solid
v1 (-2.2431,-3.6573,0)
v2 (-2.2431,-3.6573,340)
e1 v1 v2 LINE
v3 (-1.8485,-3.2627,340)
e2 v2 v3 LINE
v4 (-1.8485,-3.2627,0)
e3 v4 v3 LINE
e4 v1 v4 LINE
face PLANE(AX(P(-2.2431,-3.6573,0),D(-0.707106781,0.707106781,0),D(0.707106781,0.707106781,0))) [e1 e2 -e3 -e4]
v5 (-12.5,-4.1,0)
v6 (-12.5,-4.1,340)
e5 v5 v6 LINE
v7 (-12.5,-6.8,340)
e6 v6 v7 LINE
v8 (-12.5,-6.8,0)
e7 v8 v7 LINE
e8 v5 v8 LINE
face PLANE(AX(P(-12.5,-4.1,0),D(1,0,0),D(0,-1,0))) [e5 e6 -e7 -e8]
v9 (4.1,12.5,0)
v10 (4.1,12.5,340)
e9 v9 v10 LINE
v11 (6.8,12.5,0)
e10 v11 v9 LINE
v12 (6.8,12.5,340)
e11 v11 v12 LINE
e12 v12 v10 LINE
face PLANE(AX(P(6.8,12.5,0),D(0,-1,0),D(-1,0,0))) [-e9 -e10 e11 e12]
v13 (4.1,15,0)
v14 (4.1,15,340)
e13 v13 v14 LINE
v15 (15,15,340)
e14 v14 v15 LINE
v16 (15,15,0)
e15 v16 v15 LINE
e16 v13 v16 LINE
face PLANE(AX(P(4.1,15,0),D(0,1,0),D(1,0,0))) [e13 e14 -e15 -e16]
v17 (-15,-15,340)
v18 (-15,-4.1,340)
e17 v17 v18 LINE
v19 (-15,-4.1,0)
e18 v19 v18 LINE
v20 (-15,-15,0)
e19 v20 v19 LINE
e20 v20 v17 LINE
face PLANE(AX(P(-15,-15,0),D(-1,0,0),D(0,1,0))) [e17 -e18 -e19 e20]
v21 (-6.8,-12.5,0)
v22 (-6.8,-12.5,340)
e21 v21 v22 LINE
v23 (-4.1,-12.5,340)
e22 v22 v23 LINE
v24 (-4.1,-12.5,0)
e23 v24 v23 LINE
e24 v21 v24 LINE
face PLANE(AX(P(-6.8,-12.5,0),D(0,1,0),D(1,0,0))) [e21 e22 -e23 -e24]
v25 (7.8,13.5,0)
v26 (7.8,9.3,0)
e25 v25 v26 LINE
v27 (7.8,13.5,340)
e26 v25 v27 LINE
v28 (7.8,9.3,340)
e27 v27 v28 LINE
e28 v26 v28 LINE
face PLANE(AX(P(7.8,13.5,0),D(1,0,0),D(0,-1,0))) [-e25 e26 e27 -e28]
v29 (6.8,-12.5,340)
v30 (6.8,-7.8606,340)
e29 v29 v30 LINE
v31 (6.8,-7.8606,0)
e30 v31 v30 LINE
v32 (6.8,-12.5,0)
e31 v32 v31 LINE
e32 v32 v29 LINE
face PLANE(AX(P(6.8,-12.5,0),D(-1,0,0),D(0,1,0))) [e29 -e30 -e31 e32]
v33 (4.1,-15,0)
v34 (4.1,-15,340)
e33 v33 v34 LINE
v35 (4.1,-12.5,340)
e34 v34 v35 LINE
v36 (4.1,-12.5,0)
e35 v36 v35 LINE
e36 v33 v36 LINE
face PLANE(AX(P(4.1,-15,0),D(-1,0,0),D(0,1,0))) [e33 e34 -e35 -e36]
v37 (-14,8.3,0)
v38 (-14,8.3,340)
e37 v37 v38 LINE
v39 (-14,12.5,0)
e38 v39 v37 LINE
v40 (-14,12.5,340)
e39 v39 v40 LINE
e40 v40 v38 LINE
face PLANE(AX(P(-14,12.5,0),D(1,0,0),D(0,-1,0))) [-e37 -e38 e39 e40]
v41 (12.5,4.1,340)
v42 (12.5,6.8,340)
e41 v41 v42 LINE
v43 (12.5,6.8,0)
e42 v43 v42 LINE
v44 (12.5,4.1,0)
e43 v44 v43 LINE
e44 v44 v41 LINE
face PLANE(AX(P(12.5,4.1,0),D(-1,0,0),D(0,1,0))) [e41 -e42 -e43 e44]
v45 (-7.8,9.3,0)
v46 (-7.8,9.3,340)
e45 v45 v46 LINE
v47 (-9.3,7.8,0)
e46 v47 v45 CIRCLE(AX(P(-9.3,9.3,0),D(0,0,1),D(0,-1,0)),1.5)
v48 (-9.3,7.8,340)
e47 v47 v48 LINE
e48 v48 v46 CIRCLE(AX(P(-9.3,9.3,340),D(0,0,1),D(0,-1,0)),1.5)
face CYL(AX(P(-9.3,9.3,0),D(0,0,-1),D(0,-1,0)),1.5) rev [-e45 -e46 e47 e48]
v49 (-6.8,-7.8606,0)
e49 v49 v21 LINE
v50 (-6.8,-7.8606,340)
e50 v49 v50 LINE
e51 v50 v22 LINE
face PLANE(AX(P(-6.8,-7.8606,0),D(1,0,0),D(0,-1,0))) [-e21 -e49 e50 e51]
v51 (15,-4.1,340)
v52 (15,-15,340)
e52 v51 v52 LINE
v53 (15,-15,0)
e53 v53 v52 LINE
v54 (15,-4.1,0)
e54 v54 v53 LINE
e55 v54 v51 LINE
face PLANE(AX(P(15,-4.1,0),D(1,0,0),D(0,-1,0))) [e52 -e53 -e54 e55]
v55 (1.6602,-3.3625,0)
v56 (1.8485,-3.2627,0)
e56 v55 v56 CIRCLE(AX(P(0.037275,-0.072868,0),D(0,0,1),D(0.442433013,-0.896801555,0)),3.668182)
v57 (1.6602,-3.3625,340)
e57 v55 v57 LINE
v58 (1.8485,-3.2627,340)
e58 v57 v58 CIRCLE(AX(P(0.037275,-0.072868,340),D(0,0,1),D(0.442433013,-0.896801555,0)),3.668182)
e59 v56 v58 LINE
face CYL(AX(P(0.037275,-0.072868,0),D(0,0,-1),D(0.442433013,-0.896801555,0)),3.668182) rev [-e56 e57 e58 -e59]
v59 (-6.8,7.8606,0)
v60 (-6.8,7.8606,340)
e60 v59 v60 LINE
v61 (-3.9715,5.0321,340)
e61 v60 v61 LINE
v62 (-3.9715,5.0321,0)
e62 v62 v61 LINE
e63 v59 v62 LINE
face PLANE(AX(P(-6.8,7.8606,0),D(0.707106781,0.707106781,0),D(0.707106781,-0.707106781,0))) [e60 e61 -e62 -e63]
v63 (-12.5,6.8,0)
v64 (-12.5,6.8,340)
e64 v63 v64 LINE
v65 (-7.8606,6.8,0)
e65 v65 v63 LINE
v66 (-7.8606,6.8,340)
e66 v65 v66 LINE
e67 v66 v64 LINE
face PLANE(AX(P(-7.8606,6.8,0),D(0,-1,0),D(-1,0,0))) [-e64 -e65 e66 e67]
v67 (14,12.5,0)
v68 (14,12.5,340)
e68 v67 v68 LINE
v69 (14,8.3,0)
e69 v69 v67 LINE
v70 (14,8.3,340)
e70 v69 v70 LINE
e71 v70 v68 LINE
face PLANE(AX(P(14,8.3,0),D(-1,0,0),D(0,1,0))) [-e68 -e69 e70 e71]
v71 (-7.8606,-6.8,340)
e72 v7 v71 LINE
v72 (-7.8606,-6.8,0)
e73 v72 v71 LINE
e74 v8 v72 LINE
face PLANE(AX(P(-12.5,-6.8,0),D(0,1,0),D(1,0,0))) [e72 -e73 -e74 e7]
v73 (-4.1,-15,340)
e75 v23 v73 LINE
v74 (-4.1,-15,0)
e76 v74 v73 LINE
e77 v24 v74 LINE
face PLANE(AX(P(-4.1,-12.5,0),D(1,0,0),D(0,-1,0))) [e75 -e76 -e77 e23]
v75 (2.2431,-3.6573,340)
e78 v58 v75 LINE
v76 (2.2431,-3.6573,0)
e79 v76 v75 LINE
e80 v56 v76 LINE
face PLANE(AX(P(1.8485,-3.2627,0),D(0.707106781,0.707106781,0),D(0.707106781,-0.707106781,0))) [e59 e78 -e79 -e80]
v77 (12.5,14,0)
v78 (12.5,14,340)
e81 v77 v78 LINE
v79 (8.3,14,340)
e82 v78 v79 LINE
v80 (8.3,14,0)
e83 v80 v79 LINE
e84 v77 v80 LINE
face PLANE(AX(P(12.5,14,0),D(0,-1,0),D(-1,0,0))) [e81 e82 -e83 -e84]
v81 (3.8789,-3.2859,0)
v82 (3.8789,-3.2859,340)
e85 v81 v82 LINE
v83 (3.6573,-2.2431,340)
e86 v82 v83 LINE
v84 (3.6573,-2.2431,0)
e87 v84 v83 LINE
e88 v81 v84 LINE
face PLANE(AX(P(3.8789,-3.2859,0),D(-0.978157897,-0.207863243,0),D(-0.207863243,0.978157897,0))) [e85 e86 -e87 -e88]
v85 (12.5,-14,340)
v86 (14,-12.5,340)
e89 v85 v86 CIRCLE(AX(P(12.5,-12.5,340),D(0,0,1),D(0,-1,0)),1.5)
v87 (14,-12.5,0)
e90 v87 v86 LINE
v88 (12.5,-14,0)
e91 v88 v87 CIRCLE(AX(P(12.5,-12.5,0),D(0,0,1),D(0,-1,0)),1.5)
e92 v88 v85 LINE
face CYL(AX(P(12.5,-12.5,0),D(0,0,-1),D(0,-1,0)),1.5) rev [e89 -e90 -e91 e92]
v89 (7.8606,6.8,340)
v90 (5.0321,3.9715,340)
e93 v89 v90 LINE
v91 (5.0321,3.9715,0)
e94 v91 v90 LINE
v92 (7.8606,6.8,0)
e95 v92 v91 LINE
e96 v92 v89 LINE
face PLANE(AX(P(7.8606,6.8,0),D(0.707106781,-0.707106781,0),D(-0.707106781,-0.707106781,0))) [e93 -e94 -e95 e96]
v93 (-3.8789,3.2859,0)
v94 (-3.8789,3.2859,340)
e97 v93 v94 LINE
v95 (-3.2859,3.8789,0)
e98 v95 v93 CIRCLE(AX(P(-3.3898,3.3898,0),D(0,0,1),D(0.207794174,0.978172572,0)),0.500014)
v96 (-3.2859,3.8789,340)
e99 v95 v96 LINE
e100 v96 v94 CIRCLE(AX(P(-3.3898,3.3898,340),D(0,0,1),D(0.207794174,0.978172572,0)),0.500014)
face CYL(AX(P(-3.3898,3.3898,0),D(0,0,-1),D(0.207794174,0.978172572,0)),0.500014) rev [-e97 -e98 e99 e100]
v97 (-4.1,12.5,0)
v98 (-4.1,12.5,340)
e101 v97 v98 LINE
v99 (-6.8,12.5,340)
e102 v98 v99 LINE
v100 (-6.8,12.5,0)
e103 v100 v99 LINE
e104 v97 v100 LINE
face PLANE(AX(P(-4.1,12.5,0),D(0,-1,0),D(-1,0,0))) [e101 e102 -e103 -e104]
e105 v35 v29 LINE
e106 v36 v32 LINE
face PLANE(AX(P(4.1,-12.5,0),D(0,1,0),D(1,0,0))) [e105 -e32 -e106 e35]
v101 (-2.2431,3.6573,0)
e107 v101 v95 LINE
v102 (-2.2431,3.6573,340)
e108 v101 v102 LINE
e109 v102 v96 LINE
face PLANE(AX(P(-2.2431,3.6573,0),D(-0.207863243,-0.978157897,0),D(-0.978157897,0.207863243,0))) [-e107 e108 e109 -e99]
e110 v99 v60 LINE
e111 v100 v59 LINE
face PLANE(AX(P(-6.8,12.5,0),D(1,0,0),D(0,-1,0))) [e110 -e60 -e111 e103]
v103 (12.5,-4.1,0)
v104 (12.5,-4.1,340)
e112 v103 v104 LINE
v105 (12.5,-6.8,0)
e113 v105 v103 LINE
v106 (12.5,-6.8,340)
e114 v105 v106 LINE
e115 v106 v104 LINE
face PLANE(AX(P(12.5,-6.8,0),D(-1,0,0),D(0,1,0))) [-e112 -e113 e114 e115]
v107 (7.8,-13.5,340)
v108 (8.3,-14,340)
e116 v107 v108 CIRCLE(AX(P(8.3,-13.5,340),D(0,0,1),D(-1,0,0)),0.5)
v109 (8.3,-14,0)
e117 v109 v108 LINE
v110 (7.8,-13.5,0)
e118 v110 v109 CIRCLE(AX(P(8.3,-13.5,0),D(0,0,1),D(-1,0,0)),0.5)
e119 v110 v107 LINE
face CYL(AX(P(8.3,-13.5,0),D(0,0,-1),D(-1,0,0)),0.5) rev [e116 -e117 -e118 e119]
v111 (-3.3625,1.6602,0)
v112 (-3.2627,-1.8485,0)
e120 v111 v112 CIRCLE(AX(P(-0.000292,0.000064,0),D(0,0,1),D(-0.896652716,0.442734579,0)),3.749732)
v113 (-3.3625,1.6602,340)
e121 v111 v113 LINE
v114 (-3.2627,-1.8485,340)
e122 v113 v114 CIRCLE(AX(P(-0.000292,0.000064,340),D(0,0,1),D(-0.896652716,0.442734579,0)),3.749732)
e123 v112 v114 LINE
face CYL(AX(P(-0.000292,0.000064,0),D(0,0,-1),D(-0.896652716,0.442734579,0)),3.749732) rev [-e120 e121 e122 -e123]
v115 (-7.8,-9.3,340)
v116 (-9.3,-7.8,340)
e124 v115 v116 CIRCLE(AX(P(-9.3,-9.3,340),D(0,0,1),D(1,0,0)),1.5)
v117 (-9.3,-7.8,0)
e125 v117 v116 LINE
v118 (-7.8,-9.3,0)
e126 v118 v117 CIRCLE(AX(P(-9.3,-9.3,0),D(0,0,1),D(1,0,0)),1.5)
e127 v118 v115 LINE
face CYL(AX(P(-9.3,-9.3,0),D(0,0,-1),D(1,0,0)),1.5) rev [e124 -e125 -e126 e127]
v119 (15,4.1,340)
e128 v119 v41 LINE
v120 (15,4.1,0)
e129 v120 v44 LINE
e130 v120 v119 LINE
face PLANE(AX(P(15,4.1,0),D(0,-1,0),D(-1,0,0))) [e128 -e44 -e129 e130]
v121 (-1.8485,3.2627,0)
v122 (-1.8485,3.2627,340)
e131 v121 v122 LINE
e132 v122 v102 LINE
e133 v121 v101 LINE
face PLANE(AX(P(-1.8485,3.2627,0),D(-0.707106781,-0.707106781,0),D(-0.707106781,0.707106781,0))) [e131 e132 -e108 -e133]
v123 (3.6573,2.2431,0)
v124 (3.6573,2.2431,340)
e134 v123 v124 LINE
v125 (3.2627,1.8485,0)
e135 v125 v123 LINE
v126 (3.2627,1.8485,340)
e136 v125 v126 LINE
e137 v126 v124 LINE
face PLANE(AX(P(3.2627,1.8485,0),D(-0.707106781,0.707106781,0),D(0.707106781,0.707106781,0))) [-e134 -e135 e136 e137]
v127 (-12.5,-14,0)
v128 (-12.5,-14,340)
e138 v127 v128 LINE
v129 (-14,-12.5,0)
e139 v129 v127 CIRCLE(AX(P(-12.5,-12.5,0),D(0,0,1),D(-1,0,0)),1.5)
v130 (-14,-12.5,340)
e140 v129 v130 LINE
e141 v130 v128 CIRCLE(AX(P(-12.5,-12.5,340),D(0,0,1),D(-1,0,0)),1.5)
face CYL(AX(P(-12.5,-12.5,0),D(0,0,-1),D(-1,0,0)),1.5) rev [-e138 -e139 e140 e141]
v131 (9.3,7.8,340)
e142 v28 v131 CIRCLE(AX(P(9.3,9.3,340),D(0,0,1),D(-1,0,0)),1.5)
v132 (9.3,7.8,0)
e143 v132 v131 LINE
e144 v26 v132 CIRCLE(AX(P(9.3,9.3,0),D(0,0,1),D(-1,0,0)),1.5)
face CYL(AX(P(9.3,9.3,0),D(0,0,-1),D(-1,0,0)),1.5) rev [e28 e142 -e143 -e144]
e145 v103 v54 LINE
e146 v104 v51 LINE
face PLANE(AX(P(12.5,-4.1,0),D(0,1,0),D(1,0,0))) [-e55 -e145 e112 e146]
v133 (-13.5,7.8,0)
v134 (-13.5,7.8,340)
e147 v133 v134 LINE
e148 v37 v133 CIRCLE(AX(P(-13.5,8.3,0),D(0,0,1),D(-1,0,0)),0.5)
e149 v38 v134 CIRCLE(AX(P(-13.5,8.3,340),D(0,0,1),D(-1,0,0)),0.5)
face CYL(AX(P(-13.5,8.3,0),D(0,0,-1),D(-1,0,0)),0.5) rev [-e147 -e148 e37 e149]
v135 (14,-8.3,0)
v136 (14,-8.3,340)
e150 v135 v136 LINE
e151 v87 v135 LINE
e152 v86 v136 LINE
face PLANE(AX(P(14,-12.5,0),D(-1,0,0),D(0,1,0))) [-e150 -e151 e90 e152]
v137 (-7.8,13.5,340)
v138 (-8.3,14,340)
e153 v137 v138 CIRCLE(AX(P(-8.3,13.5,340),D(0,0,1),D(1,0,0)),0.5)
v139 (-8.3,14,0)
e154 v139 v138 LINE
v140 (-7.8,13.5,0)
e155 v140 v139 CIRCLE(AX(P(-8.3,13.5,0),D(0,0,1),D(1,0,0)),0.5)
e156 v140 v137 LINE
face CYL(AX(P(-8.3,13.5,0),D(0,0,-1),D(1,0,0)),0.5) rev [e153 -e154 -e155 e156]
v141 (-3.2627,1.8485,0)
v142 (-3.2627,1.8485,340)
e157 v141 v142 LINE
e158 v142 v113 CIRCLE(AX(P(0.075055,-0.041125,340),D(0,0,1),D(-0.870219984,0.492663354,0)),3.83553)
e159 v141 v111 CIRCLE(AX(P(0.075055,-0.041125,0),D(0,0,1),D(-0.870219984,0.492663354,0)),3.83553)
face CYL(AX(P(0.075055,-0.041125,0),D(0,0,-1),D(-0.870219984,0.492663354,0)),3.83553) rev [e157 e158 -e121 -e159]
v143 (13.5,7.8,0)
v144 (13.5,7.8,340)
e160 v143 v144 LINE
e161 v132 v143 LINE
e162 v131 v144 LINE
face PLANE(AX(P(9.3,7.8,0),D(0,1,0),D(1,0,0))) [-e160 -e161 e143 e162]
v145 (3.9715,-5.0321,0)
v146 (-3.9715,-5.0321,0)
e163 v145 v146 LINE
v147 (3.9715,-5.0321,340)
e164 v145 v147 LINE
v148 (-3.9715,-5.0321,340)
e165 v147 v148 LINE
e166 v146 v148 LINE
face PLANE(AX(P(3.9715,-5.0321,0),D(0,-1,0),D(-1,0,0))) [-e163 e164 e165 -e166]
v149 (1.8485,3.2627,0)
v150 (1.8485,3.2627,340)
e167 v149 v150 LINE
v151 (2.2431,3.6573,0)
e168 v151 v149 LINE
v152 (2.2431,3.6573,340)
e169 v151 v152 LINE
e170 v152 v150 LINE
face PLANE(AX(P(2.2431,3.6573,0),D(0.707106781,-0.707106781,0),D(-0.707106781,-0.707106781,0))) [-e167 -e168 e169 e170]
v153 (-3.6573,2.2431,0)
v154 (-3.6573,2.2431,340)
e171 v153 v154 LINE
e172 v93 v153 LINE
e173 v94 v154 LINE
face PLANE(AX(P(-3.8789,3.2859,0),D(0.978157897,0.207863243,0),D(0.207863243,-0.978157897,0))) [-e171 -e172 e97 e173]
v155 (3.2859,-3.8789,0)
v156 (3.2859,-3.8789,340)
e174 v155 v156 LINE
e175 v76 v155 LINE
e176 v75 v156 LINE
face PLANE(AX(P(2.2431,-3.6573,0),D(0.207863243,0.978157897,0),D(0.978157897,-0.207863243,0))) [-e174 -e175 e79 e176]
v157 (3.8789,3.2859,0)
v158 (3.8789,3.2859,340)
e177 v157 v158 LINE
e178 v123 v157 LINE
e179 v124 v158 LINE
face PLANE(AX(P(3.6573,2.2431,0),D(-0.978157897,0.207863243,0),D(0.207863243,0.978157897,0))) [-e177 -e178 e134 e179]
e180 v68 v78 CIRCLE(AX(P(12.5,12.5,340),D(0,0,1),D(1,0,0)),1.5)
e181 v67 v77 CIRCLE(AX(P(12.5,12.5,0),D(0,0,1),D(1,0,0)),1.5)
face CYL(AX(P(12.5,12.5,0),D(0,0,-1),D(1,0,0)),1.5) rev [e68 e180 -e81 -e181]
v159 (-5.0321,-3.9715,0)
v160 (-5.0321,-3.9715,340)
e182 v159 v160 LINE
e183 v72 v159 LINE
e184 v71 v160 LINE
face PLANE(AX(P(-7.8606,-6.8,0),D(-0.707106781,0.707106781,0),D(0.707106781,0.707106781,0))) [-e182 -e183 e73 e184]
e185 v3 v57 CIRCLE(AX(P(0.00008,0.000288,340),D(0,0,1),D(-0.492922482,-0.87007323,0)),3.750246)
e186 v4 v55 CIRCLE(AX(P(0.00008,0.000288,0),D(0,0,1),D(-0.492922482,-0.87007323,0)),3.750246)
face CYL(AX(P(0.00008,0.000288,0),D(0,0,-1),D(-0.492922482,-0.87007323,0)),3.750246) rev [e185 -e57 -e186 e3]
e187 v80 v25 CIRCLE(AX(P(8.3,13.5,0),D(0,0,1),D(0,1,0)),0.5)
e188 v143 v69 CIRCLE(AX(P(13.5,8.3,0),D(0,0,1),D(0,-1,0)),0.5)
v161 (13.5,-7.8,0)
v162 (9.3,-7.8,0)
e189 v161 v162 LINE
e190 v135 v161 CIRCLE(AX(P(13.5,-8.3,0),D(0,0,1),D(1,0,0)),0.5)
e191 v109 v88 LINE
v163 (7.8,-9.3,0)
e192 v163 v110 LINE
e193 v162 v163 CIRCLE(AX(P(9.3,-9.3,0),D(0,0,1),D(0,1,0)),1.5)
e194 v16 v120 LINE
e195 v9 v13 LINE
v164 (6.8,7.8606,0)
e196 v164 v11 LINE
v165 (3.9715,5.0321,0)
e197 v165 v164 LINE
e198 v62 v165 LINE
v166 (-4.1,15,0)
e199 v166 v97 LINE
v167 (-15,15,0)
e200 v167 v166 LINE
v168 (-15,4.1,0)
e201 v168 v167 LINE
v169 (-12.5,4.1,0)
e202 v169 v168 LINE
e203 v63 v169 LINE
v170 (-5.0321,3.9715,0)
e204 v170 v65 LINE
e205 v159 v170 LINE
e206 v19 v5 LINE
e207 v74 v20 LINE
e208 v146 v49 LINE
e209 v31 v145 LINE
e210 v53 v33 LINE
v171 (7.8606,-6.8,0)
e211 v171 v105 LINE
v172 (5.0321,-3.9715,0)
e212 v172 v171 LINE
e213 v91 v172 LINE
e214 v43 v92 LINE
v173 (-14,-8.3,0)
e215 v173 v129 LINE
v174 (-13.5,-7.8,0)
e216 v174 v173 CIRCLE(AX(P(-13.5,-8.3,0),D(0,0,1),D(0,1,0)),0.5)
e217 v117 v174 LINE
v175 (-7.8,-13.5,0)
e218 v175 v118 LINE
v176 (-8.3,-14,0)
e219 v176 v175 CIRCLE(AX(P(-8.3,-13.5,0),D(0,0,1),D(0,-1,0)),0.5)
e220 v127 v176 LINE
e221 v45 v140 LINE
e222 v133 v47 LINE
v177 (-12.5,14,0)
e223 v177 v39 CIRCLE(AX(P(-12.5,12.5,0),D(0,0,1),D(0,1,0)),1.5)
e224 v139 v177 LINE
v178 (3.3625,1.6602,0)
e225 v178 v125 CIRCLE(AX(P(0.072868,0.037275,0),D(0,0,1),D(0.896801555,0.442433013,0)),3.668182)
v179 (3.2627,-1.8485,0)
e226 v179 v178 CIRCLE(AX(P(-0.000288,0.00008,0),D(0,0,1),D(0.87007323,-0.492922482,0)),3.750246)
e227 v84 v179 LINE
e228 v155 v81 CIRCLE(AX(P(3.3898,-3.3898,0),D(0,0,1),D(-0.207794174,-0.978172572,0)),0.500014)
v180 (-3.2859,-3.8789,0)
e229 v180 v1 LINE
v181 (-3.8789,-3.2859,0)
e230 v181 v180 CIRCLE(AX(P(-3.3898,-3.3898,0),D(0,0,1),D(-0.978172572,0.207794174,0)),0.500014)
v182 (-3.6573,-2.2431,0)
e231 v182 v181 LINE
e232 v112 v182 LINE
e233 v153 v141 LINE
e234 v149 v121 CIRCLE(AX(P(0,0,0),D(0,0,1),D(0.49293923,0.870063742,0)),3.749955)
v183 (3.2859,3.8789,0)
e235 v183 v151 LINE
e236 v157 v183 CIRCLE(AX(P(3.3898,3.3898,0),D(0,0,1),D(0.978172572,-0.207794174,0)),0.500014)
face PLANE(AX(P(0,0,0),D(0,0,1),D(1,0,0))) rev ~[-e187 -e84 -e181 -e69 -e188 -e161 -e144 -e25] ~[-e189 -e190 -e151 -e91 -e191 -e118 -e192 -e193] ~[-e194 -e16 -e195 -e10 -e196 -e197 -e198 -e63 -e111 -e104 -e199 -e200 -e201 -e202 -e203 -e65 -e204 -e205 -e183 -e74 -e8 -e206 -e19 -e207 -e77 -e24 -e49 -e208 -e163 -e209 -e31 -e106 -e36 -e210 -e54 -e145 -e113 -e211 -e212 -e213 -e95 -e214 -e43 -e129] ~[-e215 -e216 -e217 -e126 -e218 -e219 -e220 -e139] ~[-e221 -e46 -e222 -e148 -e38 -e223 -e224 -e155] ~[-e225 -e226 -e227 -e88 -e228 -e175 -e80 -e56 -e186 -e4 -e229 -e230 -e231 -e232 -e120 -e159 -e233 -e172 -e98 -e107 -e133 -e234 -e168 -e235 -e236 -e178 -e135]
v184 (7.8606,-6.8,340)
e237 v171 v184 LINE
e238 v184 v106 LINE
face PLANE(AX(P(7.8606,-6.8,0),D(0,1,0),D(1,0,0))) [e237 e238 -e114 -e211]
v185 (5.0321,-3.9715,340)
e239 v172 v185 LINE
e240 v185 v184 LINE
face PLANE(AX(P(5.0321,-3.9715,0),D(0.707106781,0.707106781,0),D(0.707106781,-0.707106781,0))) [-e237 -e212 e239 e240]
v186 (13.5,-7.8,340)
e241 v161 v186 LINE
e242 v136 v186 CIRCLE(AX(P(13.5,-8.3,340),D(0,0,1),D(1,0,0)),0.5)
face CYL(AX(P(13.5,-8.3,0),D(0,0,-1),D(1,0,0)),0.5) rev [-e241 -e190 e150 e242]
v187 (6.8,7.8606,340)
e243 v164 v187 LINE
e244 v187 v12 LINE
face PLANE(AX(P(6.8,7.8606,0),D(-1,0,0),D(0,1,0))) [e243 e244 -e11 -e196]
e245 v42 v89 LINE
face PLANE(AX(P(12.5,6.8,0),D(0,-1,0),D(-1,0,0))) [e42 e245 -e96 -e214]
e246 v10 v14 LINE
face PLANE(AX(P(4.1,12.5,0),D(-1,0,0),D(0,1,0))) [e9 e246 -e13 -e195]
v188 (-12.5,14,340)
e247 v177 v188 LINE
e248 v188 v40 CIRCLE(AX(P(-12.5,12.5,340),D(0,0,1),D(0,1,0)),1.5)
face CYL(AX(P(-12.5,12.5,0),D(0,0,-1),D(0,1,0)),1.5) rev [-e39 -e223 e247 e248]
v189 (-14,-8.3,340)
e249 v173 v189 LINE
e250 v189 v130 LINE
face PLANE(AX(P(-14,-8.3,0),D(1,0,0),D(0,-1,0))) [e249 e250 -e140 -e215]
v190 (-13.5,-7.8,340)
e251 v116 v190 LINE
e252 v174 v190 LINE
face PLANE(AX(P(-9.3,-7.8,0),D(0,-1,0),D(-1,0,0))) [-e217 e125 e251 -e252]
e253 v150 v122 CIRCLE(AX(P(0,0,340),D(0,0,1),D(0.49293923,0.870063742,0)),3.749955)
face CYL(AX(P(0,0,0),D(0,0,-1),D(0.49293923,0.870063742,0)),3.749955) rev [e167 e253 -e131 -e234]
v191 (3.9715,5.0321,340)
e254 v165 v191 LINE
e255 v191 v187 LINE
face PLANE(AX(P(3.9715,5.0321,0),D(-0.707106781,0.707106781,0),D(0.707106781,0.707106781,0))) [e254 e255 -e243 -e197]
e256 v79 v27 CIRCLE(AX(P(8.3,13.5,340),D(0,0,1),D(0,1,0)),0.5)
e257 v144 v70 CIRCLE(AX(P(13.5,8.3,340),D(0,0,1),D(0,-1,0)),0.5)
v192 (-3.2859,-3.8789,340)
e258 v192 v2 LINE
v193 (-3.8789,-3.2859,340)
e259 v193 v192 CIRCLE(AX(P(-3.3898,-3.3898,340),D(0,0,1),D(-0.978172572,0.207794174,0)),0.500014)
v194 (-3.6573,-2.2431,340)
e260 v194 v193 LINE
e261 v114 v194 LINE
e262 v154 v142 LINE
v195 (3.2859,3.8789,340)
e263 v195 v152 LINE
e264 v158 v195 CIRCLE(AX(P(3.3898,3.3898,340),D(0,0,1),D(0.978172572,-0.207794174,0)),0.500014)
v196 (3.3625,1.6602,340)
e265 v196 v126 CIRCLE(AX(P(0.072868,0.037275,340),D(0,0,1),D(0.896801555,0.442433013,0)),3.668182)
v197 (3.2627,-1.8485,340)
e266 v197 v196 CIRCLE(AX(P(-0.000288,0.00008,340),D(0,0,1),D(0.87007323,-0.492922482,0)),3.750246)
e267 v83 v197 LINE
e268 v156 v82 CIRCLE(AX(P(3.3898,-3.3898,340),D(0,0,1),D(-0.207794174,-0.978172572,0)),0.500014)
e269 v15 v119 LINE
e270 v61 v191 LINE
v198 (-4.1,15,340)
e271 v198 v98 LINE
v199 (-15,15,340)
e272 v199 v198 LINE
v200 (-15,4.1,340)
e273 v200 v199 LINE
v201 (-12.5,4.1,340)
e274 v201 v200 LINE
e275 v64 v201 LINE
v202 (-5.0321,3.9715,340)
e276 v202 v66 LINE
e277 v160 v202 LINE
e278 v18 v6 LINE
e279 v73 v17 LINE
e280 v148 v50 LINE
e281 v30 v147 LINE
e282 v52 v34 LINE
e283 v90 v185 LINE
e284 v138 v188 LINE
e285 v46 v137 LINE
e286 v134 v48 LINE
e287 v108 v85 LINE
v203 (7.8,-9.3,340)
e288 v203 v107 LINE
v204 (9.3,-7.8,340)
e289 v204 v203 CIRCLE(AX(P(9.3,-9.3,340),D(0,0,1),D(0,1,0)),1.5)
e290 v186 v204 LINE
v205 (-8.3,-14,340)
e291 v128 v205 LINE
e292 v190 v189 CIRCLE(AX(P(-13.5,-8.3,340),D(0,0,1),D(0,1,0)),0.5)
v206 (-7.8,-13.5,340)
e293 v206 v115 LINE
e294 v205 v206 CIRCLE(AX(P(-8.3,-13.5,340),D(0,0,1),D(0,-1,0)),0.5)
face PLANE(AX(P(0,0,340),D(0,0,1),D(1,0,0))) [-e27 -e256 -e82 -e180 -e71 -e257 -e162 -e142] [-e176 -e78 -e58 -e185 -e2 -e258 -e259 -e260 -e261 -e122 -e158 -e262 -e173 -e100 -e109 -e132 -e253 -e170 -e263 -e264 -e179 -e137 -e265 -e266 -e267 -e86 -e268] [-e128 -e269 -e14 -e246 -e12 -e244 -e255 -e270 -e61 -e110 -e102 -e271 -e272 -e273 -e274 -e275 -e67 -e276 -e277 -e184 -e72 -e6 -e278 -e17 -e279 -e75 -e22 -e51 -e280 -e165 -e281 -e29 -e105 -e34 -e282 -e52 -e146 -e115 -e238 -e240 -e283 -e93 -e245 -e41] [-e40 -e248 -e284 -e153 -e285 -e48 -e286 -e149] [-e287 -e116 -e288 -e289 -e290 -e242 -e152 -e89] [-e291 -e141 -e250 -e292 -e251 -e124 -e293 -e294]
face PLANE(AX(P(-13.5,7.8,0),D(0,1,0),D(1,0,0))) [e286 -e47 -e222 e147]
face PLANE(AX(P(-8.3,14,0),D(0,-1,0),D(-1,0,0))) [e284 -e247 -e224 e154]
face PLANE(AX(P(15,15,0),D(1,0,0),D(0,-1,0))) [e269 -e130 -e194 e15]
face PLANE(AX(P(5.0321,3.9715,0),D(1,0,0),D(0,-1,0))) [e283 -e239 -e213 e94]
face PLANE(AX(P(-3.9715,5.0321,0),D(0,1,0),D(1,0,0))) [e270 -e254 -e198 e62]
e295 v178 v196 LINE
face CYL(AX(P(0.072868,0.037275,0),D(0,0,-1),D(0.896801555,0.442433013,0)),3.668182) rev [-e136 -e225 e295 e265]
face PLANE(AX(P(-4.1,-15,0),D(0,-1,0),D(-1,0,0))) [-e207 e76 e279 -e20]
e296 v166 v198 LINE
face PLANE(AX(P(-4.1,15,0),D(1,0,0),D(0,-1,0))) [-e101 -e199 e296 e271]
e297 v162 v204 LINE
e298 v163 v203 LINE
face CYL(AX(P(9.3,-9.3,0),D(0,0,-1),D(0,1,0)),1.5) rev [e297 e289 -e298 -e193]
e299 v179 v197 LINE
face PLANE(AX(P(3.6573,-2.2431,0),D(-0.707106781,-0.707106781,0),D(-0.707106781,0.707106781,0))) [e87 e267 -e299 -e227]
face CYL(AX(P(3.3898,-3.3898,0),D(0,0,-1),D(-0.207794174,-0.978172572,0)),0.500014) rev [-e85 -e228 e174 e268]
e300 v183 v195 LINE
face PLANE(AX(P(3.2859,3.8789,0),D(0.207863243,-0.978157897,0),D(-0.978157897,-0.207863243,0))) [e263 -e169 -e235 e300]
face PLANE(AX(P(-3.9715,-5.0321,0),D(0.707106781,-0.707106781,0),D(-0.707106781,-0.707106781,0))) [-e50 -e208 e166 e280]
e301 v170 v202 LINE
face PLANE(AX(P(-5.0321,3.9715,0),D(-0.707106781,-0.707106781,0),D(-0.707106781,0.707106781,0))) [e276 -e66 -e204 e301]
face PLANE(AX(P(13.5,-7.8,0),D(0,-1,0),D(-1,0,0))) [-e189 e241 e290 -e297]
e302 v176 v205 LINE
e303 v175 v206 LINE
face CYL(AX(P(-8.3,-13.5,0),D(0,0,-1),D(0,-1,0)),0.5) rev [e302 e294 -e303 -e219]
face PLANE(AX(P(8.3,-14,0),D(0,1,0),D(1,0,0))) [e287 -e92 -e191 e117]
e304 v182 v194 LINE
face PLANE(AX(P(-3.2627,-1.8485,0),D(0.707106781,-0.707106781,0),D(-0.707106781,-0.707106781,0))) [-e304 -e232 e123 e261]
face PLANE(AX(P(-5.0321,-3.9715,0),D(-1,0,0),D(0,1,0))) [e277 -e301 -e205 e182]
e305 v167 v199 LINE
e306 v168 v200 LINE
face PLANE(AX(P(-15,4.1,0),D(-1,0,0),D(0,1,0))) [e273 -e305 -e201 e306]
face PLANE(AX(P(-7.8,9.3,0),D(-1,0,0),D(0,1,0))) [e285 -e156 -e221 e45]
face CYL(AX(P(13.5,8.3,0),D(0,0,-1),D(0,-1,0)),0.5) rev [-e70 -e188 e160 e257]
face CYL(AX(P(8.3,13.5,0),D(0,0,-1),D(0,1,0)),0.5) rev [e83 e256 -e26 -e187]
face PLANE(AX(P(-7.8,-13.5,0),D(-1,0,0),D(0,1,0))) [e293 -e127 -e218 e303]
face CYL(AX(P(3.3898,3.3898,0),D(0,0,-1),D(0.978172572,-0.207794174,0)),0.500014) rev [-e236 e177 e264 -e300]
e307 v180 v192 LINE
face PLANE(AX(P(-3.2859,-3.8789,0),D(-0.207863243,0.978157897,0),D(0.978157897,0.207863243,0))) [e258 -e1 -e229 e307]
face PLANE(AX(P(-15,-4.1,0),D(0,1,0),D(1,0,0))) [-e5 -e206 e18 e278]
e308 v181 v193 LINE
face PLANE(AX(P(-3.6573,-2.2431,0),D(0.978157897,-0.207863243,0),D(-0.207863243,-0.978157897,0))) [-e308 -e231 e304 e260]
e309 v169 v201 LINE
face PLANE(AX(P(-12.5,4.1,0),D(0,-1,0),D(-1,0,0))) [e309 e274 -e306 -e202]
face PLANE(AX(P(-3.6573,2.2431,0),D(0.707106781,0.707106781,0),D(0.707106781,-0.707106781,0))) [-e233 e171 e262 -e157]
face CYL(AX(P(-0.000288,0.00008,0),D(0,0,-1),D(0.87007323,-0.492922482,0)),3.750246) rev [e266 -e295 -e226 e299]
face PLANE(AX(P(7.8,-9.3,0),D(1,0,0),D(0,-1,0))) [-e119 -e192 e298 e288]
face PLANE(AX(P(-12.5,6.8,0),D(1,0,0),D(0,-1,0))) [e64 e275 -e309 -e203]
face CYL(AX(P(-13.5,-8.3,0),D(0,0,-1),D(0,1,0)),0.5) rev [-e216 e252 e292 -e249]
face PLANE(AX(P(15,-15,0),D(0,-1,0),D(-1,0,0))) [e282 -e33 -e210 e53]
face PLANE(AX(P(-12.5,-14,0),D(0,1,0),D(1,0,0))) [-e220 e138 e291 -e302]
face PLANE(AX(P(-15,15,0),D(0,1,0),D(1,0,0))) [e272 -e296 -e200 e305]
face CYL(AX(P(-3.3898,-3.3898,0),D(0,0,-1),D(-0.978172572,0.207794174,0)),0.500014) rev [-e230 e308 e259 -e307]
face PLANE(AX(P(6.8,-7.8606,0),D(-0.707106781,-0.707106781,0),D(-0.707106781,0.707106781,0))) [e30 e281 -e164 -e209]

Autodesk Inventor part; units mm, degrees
ref_plane "YZ Plane" through (0, 0, 0) normal (1, 0, 0) x (0, 1, 0)
ref_plane "XZ Plane" through (0, 0, 0) normal (0, 1, 0) x (-1, 0, 0)
ref_plane "XY Plane" through (0, 0, 0) normal (0, 0, 1) x (1, 0, 0)
sketch "Sketch1" plane through (0, 0, 0) normal (0, 0, 1) x (1, 0, 0)
  arc A0 (9.3, -7.8) -> (7.8, -9.3) centre (9.3, -9.3) ccw
  line L0 (13.5, -7.8) -> (9.3, -7.8)
  arc A1 (14, -8.3) -> (13.5, -7.8) centre (13.5, -8.3) ccw
  line L1 (14, -12.5) -> (14, -8.3)
  arc A2 (12.5, -14) -> (14, -12.5) centre (12.5, -12.5) ccw
  line L2 (8.3, -14) -> (12.5, -14)
  arc A3 (7.8, -13.5) -> (8.3, -14) centre (8.3, -13.5) ccw
  line L3 (7.8, -9.3) -> (7.8, -13.5)
  arc A4 (-13.5, -7.8) -> (-14, -8.3) centre (-13.5, -8.3) ccw
  line L4 (-9.3, -7.8) -> (-13.5, -7.8)
  arc A5 (-7.8, -9.3) -> (-9.3, -7.8) centre (-9.3, -9.3) ccw
  line L5 (-7.8, -13.5) -> (-7.8, -9.3)
  arc A6 (-8.3, -14) -> (-7.8, -13.5) centre (-8.3, -13.5) ccw
  line L6 (-12.5, -14) -> (-8.3, -14)
  arc A7 (-14, -12.5) -> (-12.5, -14) centre (-12.5, -12.5) ccw
  line L7 (-14, -8.3) -> (-14, -12.5)
  line L8 (3.2859, 3.8789) -> (2.2431, 3.6573)
  arc A8 (3.8789, 3.2859) -> (3.2859, 3.8789) centre (3.3898, 3.3898) ccw
  line L9 (3.6573, 2.2431) -> (3.8789, 3.2859)
  line L10 (3.2627, 1.8485) -> (3.6573, 2.2431)
  line L11 (3.6573, -2.2431) -> (3.2627, -1.8485)
  line L12 (3.8789, -3.2859) -> (3.6573, -2.2431)
  arc A9 (3.2859, -3.8789) -> (3.8789, -3.2859) centre (3.3898, -3.3898) ccw
  line L13 (2.2431, -3.6573) -> (3.2859, -3.8789)
  line L14 (1.8485, -3.2627) -> (2.2431, -3.6573)
  arc A10 (-1.8485, -3.2627) -> (1.6602, -3.3625) centre (0, 0) ccw
  line L15 (-2.2431, -3.6573) -> (-1.8485, -3.2627)
  line L16 (-3.2859, -3.8789) -> (-2.2431, -3.6573)
  arc A11 (-3.8789, -3.2859) -> (-3.2859, -3.8789) centre (-3.3898, -3.3898) ccw
  line L17 (-3.6573, -2.2431) -> (-3.8789, -3.2859)
  line L18 (-3.2627, -1.8485) -> (-3.6573, -2.2431)
  arc A12 (-3.3625, 1.6602) -> (-3.2627, -1.8485) centre (0, 0) ccw
  line L19 (-3.6573, 2.2431) -> (-3.2627, 1.8485)
  line L20 (-3.8789, 3.2859) -> (-3.6573, 2.2431)
  arc A13 (-3.2859, 3.8789) -> (-3.8789, 3.2859) centre (-3.3898, 3.3898) ccw
  line L21 (-2.2431, 3.6573) -> (-3.2859, 3.8789)
  line L22 (-1.8485, 3.2627) -> (-2.2431, 3.6573)
  line L23 (2.2431, 3.6573) -> (1.8485, 3.2627)
  arc A14 (13.5, 7.8) -> (14, 8.3) centre (13.5, 8.3) ccw
  line L24 (9.3, 7.8) -> (13.5, 7.8)
  arc A15 (7.8, 9.3) -> (9.3, 7.8) centre (9.3, 9.3) ccw
  line L25 (7.8, 13.5) -> (7.8, 9.3)
  arc A16 (8.3, 14) -> (7.8, 13.5) centre (8.3, 13.5) ccw
  line L26 (12.5, 14) -> (8.3, 14)
  arc A17 (14, 12.5) -> (12.5, 14) centre (12.5, 12.5) ccw
  line L27 (14, 8.3) -> (14, 12.5)
  arc A18 (-12.5, 14) -> (-14, 12.5) centre (-12.5, 12.5) ccw
  line L28 (-8.3, 14) -> (-12.5, 14)
  arc A19 (-7.8, 13.5) -> (-8.3, 14) centre (-8.3, 13.5) ccw
  line L29 (-7.8, 9.3) -> (-7.8, 13.5)
  arc A20 (-9.3, 7.8) -> (-7.8, 9.3) centre (-9.3, 9.3) ccw
  line L30 (-13.5, 7.8) -> (-9.3, 7.8)
  arc A21 (-14, 8.3) -> (-13.5, 7.8) centre (-13.5, 8.3) ccw
  line L31 (-14, 12.5) -> (-14, 8.3)
  line L32 (12.5, 4.1) -> (12.5, 6.8)
  line L33 (15, 4.1) -> (12.5, 4.1)
  line L34 (15, 15) -> (15, 4.1)
  line L35 (4.1, 15) -> (15, 15)
  line L36 (4.1, 12.5) -> (4.1, 15)
  line L37 (6.8, 12.5) -> (4.1, 12.5)
  line L38 (6.8, 7.8606) -> (6.8, 12.5)
  line L39 (3.9715, 5.0321) -> (6.8, 7.8606)
  line L40 (-3.9715, 5.0321) -> (3.9715, 5.0321)
  line L41 (-6.8, 7.8606) -> (-3.9715, 5.0321)
  line L42 (-6.8, 12.5) -> (-6.8, 7.8606)
  line L43 (-4.1, 12.5) -> (-6.8, 12.5)
  line L44 (-4.1, 15) -> (-4.1, 12.5)
  line L45 (-15, 15) -> (-4.1, 15)
  line L46 (-15, 4.1) -> (-15, 15)
  line L47 (-12.5, 4.1) -> (-15, 4.1)
  line L48 (-12.5, 6.8) -> (-12.5, 4.1)
  line L49 (-7.8606, 6.8) -> (-12.5, 6.8)
  line L50 (-5.0321, 3.9715) -> (-7.8606, 6.8)
  line L51 (-5.0321, -3.9715) -> (-5.0321, 3.9715)
  line L52 (-7.8606, -6.8) -> (-5.0321, -3.9715)
  line L53 (-12.5, -6.8) -> (-7.8606, -6.8)
  line L54 (-12.5, -4.1) -> (-12.5, -6.8)
  line L55 (-15, -4.1) -> (-12.5, -4.1)
  line L56 (-15, -15) -> (-15, -4.1)
  line L57 (-4.1, -15) -> (-15, -15)
  line L58 (-4.1, -12.5) -> (-4.1, -15)
  line L59 (-6.8, -12.5) -> (-4.1, -12.5)
  line L60 (-6.8, -7.8606) -> (-6.8, -12.5)
  line L61 (-3.9715, -5.0321) -> (-6.8, -7.8606)
  line L62 (3.9715, -5.0321) -> (-3.9715, -5.0321)
  line L63 (6.8, -7.8606) -> (3.9715, -5.0321)
  line L64 (6.8, -12.5) -> (6.8, -7.8606)
  line L65 (4.1, -12.5) -> (6.8, -12.5)
  line L66 (4.1, -15) -> (4.1, -12.5)
  line L67 (15, -15) -> (4.1, -15)
  line L68 (15, -4.1) -> (15, -15)
  line L69 (12.5, -4.1) -> (15, -4.1)
  line L70 (12.5, -6.8) -> (12.5, -4.1)
  line L71 (7.8606, -6.8) -> (12.5, -6.8)
  line L72 (5.0321, -3.9715) -> (7.8606, -6.8)
  line L73 (5.0321, 3.9715) -> (5.0321, -3.9715)
  line L74 (7.8606, 6.8) -> (5.0321, 3.9715)
  line L75 (12.5, 6.8) -> (7.8606, 6.8)
  arc A22 (-3.2627, 1.8485) -> (-3.3625, 1.6602) centre (0, 0) ccw
  arc A23 (3.3625, 1.6602) -> (3.2627, 1.8485) centre (0, 0) ccw
  arc A24 (1.8485, 3.2627) -> (-1.8485, 3.2627) centre (0, 0) ccw
  arc A25 (1.6602, -3.3625) -> (1.8485, -3.2627) centre (0, 0) ccw
  arc A26 (3.2627, -1.8485) -> (3.3625, 1.6602) centre (0, 0) ccw
extrude "Extrusion1" add sketch "Sketch1" along normal blind 340
properties part number "20.1068 30X30 -340" material "Aluminum-6061"
